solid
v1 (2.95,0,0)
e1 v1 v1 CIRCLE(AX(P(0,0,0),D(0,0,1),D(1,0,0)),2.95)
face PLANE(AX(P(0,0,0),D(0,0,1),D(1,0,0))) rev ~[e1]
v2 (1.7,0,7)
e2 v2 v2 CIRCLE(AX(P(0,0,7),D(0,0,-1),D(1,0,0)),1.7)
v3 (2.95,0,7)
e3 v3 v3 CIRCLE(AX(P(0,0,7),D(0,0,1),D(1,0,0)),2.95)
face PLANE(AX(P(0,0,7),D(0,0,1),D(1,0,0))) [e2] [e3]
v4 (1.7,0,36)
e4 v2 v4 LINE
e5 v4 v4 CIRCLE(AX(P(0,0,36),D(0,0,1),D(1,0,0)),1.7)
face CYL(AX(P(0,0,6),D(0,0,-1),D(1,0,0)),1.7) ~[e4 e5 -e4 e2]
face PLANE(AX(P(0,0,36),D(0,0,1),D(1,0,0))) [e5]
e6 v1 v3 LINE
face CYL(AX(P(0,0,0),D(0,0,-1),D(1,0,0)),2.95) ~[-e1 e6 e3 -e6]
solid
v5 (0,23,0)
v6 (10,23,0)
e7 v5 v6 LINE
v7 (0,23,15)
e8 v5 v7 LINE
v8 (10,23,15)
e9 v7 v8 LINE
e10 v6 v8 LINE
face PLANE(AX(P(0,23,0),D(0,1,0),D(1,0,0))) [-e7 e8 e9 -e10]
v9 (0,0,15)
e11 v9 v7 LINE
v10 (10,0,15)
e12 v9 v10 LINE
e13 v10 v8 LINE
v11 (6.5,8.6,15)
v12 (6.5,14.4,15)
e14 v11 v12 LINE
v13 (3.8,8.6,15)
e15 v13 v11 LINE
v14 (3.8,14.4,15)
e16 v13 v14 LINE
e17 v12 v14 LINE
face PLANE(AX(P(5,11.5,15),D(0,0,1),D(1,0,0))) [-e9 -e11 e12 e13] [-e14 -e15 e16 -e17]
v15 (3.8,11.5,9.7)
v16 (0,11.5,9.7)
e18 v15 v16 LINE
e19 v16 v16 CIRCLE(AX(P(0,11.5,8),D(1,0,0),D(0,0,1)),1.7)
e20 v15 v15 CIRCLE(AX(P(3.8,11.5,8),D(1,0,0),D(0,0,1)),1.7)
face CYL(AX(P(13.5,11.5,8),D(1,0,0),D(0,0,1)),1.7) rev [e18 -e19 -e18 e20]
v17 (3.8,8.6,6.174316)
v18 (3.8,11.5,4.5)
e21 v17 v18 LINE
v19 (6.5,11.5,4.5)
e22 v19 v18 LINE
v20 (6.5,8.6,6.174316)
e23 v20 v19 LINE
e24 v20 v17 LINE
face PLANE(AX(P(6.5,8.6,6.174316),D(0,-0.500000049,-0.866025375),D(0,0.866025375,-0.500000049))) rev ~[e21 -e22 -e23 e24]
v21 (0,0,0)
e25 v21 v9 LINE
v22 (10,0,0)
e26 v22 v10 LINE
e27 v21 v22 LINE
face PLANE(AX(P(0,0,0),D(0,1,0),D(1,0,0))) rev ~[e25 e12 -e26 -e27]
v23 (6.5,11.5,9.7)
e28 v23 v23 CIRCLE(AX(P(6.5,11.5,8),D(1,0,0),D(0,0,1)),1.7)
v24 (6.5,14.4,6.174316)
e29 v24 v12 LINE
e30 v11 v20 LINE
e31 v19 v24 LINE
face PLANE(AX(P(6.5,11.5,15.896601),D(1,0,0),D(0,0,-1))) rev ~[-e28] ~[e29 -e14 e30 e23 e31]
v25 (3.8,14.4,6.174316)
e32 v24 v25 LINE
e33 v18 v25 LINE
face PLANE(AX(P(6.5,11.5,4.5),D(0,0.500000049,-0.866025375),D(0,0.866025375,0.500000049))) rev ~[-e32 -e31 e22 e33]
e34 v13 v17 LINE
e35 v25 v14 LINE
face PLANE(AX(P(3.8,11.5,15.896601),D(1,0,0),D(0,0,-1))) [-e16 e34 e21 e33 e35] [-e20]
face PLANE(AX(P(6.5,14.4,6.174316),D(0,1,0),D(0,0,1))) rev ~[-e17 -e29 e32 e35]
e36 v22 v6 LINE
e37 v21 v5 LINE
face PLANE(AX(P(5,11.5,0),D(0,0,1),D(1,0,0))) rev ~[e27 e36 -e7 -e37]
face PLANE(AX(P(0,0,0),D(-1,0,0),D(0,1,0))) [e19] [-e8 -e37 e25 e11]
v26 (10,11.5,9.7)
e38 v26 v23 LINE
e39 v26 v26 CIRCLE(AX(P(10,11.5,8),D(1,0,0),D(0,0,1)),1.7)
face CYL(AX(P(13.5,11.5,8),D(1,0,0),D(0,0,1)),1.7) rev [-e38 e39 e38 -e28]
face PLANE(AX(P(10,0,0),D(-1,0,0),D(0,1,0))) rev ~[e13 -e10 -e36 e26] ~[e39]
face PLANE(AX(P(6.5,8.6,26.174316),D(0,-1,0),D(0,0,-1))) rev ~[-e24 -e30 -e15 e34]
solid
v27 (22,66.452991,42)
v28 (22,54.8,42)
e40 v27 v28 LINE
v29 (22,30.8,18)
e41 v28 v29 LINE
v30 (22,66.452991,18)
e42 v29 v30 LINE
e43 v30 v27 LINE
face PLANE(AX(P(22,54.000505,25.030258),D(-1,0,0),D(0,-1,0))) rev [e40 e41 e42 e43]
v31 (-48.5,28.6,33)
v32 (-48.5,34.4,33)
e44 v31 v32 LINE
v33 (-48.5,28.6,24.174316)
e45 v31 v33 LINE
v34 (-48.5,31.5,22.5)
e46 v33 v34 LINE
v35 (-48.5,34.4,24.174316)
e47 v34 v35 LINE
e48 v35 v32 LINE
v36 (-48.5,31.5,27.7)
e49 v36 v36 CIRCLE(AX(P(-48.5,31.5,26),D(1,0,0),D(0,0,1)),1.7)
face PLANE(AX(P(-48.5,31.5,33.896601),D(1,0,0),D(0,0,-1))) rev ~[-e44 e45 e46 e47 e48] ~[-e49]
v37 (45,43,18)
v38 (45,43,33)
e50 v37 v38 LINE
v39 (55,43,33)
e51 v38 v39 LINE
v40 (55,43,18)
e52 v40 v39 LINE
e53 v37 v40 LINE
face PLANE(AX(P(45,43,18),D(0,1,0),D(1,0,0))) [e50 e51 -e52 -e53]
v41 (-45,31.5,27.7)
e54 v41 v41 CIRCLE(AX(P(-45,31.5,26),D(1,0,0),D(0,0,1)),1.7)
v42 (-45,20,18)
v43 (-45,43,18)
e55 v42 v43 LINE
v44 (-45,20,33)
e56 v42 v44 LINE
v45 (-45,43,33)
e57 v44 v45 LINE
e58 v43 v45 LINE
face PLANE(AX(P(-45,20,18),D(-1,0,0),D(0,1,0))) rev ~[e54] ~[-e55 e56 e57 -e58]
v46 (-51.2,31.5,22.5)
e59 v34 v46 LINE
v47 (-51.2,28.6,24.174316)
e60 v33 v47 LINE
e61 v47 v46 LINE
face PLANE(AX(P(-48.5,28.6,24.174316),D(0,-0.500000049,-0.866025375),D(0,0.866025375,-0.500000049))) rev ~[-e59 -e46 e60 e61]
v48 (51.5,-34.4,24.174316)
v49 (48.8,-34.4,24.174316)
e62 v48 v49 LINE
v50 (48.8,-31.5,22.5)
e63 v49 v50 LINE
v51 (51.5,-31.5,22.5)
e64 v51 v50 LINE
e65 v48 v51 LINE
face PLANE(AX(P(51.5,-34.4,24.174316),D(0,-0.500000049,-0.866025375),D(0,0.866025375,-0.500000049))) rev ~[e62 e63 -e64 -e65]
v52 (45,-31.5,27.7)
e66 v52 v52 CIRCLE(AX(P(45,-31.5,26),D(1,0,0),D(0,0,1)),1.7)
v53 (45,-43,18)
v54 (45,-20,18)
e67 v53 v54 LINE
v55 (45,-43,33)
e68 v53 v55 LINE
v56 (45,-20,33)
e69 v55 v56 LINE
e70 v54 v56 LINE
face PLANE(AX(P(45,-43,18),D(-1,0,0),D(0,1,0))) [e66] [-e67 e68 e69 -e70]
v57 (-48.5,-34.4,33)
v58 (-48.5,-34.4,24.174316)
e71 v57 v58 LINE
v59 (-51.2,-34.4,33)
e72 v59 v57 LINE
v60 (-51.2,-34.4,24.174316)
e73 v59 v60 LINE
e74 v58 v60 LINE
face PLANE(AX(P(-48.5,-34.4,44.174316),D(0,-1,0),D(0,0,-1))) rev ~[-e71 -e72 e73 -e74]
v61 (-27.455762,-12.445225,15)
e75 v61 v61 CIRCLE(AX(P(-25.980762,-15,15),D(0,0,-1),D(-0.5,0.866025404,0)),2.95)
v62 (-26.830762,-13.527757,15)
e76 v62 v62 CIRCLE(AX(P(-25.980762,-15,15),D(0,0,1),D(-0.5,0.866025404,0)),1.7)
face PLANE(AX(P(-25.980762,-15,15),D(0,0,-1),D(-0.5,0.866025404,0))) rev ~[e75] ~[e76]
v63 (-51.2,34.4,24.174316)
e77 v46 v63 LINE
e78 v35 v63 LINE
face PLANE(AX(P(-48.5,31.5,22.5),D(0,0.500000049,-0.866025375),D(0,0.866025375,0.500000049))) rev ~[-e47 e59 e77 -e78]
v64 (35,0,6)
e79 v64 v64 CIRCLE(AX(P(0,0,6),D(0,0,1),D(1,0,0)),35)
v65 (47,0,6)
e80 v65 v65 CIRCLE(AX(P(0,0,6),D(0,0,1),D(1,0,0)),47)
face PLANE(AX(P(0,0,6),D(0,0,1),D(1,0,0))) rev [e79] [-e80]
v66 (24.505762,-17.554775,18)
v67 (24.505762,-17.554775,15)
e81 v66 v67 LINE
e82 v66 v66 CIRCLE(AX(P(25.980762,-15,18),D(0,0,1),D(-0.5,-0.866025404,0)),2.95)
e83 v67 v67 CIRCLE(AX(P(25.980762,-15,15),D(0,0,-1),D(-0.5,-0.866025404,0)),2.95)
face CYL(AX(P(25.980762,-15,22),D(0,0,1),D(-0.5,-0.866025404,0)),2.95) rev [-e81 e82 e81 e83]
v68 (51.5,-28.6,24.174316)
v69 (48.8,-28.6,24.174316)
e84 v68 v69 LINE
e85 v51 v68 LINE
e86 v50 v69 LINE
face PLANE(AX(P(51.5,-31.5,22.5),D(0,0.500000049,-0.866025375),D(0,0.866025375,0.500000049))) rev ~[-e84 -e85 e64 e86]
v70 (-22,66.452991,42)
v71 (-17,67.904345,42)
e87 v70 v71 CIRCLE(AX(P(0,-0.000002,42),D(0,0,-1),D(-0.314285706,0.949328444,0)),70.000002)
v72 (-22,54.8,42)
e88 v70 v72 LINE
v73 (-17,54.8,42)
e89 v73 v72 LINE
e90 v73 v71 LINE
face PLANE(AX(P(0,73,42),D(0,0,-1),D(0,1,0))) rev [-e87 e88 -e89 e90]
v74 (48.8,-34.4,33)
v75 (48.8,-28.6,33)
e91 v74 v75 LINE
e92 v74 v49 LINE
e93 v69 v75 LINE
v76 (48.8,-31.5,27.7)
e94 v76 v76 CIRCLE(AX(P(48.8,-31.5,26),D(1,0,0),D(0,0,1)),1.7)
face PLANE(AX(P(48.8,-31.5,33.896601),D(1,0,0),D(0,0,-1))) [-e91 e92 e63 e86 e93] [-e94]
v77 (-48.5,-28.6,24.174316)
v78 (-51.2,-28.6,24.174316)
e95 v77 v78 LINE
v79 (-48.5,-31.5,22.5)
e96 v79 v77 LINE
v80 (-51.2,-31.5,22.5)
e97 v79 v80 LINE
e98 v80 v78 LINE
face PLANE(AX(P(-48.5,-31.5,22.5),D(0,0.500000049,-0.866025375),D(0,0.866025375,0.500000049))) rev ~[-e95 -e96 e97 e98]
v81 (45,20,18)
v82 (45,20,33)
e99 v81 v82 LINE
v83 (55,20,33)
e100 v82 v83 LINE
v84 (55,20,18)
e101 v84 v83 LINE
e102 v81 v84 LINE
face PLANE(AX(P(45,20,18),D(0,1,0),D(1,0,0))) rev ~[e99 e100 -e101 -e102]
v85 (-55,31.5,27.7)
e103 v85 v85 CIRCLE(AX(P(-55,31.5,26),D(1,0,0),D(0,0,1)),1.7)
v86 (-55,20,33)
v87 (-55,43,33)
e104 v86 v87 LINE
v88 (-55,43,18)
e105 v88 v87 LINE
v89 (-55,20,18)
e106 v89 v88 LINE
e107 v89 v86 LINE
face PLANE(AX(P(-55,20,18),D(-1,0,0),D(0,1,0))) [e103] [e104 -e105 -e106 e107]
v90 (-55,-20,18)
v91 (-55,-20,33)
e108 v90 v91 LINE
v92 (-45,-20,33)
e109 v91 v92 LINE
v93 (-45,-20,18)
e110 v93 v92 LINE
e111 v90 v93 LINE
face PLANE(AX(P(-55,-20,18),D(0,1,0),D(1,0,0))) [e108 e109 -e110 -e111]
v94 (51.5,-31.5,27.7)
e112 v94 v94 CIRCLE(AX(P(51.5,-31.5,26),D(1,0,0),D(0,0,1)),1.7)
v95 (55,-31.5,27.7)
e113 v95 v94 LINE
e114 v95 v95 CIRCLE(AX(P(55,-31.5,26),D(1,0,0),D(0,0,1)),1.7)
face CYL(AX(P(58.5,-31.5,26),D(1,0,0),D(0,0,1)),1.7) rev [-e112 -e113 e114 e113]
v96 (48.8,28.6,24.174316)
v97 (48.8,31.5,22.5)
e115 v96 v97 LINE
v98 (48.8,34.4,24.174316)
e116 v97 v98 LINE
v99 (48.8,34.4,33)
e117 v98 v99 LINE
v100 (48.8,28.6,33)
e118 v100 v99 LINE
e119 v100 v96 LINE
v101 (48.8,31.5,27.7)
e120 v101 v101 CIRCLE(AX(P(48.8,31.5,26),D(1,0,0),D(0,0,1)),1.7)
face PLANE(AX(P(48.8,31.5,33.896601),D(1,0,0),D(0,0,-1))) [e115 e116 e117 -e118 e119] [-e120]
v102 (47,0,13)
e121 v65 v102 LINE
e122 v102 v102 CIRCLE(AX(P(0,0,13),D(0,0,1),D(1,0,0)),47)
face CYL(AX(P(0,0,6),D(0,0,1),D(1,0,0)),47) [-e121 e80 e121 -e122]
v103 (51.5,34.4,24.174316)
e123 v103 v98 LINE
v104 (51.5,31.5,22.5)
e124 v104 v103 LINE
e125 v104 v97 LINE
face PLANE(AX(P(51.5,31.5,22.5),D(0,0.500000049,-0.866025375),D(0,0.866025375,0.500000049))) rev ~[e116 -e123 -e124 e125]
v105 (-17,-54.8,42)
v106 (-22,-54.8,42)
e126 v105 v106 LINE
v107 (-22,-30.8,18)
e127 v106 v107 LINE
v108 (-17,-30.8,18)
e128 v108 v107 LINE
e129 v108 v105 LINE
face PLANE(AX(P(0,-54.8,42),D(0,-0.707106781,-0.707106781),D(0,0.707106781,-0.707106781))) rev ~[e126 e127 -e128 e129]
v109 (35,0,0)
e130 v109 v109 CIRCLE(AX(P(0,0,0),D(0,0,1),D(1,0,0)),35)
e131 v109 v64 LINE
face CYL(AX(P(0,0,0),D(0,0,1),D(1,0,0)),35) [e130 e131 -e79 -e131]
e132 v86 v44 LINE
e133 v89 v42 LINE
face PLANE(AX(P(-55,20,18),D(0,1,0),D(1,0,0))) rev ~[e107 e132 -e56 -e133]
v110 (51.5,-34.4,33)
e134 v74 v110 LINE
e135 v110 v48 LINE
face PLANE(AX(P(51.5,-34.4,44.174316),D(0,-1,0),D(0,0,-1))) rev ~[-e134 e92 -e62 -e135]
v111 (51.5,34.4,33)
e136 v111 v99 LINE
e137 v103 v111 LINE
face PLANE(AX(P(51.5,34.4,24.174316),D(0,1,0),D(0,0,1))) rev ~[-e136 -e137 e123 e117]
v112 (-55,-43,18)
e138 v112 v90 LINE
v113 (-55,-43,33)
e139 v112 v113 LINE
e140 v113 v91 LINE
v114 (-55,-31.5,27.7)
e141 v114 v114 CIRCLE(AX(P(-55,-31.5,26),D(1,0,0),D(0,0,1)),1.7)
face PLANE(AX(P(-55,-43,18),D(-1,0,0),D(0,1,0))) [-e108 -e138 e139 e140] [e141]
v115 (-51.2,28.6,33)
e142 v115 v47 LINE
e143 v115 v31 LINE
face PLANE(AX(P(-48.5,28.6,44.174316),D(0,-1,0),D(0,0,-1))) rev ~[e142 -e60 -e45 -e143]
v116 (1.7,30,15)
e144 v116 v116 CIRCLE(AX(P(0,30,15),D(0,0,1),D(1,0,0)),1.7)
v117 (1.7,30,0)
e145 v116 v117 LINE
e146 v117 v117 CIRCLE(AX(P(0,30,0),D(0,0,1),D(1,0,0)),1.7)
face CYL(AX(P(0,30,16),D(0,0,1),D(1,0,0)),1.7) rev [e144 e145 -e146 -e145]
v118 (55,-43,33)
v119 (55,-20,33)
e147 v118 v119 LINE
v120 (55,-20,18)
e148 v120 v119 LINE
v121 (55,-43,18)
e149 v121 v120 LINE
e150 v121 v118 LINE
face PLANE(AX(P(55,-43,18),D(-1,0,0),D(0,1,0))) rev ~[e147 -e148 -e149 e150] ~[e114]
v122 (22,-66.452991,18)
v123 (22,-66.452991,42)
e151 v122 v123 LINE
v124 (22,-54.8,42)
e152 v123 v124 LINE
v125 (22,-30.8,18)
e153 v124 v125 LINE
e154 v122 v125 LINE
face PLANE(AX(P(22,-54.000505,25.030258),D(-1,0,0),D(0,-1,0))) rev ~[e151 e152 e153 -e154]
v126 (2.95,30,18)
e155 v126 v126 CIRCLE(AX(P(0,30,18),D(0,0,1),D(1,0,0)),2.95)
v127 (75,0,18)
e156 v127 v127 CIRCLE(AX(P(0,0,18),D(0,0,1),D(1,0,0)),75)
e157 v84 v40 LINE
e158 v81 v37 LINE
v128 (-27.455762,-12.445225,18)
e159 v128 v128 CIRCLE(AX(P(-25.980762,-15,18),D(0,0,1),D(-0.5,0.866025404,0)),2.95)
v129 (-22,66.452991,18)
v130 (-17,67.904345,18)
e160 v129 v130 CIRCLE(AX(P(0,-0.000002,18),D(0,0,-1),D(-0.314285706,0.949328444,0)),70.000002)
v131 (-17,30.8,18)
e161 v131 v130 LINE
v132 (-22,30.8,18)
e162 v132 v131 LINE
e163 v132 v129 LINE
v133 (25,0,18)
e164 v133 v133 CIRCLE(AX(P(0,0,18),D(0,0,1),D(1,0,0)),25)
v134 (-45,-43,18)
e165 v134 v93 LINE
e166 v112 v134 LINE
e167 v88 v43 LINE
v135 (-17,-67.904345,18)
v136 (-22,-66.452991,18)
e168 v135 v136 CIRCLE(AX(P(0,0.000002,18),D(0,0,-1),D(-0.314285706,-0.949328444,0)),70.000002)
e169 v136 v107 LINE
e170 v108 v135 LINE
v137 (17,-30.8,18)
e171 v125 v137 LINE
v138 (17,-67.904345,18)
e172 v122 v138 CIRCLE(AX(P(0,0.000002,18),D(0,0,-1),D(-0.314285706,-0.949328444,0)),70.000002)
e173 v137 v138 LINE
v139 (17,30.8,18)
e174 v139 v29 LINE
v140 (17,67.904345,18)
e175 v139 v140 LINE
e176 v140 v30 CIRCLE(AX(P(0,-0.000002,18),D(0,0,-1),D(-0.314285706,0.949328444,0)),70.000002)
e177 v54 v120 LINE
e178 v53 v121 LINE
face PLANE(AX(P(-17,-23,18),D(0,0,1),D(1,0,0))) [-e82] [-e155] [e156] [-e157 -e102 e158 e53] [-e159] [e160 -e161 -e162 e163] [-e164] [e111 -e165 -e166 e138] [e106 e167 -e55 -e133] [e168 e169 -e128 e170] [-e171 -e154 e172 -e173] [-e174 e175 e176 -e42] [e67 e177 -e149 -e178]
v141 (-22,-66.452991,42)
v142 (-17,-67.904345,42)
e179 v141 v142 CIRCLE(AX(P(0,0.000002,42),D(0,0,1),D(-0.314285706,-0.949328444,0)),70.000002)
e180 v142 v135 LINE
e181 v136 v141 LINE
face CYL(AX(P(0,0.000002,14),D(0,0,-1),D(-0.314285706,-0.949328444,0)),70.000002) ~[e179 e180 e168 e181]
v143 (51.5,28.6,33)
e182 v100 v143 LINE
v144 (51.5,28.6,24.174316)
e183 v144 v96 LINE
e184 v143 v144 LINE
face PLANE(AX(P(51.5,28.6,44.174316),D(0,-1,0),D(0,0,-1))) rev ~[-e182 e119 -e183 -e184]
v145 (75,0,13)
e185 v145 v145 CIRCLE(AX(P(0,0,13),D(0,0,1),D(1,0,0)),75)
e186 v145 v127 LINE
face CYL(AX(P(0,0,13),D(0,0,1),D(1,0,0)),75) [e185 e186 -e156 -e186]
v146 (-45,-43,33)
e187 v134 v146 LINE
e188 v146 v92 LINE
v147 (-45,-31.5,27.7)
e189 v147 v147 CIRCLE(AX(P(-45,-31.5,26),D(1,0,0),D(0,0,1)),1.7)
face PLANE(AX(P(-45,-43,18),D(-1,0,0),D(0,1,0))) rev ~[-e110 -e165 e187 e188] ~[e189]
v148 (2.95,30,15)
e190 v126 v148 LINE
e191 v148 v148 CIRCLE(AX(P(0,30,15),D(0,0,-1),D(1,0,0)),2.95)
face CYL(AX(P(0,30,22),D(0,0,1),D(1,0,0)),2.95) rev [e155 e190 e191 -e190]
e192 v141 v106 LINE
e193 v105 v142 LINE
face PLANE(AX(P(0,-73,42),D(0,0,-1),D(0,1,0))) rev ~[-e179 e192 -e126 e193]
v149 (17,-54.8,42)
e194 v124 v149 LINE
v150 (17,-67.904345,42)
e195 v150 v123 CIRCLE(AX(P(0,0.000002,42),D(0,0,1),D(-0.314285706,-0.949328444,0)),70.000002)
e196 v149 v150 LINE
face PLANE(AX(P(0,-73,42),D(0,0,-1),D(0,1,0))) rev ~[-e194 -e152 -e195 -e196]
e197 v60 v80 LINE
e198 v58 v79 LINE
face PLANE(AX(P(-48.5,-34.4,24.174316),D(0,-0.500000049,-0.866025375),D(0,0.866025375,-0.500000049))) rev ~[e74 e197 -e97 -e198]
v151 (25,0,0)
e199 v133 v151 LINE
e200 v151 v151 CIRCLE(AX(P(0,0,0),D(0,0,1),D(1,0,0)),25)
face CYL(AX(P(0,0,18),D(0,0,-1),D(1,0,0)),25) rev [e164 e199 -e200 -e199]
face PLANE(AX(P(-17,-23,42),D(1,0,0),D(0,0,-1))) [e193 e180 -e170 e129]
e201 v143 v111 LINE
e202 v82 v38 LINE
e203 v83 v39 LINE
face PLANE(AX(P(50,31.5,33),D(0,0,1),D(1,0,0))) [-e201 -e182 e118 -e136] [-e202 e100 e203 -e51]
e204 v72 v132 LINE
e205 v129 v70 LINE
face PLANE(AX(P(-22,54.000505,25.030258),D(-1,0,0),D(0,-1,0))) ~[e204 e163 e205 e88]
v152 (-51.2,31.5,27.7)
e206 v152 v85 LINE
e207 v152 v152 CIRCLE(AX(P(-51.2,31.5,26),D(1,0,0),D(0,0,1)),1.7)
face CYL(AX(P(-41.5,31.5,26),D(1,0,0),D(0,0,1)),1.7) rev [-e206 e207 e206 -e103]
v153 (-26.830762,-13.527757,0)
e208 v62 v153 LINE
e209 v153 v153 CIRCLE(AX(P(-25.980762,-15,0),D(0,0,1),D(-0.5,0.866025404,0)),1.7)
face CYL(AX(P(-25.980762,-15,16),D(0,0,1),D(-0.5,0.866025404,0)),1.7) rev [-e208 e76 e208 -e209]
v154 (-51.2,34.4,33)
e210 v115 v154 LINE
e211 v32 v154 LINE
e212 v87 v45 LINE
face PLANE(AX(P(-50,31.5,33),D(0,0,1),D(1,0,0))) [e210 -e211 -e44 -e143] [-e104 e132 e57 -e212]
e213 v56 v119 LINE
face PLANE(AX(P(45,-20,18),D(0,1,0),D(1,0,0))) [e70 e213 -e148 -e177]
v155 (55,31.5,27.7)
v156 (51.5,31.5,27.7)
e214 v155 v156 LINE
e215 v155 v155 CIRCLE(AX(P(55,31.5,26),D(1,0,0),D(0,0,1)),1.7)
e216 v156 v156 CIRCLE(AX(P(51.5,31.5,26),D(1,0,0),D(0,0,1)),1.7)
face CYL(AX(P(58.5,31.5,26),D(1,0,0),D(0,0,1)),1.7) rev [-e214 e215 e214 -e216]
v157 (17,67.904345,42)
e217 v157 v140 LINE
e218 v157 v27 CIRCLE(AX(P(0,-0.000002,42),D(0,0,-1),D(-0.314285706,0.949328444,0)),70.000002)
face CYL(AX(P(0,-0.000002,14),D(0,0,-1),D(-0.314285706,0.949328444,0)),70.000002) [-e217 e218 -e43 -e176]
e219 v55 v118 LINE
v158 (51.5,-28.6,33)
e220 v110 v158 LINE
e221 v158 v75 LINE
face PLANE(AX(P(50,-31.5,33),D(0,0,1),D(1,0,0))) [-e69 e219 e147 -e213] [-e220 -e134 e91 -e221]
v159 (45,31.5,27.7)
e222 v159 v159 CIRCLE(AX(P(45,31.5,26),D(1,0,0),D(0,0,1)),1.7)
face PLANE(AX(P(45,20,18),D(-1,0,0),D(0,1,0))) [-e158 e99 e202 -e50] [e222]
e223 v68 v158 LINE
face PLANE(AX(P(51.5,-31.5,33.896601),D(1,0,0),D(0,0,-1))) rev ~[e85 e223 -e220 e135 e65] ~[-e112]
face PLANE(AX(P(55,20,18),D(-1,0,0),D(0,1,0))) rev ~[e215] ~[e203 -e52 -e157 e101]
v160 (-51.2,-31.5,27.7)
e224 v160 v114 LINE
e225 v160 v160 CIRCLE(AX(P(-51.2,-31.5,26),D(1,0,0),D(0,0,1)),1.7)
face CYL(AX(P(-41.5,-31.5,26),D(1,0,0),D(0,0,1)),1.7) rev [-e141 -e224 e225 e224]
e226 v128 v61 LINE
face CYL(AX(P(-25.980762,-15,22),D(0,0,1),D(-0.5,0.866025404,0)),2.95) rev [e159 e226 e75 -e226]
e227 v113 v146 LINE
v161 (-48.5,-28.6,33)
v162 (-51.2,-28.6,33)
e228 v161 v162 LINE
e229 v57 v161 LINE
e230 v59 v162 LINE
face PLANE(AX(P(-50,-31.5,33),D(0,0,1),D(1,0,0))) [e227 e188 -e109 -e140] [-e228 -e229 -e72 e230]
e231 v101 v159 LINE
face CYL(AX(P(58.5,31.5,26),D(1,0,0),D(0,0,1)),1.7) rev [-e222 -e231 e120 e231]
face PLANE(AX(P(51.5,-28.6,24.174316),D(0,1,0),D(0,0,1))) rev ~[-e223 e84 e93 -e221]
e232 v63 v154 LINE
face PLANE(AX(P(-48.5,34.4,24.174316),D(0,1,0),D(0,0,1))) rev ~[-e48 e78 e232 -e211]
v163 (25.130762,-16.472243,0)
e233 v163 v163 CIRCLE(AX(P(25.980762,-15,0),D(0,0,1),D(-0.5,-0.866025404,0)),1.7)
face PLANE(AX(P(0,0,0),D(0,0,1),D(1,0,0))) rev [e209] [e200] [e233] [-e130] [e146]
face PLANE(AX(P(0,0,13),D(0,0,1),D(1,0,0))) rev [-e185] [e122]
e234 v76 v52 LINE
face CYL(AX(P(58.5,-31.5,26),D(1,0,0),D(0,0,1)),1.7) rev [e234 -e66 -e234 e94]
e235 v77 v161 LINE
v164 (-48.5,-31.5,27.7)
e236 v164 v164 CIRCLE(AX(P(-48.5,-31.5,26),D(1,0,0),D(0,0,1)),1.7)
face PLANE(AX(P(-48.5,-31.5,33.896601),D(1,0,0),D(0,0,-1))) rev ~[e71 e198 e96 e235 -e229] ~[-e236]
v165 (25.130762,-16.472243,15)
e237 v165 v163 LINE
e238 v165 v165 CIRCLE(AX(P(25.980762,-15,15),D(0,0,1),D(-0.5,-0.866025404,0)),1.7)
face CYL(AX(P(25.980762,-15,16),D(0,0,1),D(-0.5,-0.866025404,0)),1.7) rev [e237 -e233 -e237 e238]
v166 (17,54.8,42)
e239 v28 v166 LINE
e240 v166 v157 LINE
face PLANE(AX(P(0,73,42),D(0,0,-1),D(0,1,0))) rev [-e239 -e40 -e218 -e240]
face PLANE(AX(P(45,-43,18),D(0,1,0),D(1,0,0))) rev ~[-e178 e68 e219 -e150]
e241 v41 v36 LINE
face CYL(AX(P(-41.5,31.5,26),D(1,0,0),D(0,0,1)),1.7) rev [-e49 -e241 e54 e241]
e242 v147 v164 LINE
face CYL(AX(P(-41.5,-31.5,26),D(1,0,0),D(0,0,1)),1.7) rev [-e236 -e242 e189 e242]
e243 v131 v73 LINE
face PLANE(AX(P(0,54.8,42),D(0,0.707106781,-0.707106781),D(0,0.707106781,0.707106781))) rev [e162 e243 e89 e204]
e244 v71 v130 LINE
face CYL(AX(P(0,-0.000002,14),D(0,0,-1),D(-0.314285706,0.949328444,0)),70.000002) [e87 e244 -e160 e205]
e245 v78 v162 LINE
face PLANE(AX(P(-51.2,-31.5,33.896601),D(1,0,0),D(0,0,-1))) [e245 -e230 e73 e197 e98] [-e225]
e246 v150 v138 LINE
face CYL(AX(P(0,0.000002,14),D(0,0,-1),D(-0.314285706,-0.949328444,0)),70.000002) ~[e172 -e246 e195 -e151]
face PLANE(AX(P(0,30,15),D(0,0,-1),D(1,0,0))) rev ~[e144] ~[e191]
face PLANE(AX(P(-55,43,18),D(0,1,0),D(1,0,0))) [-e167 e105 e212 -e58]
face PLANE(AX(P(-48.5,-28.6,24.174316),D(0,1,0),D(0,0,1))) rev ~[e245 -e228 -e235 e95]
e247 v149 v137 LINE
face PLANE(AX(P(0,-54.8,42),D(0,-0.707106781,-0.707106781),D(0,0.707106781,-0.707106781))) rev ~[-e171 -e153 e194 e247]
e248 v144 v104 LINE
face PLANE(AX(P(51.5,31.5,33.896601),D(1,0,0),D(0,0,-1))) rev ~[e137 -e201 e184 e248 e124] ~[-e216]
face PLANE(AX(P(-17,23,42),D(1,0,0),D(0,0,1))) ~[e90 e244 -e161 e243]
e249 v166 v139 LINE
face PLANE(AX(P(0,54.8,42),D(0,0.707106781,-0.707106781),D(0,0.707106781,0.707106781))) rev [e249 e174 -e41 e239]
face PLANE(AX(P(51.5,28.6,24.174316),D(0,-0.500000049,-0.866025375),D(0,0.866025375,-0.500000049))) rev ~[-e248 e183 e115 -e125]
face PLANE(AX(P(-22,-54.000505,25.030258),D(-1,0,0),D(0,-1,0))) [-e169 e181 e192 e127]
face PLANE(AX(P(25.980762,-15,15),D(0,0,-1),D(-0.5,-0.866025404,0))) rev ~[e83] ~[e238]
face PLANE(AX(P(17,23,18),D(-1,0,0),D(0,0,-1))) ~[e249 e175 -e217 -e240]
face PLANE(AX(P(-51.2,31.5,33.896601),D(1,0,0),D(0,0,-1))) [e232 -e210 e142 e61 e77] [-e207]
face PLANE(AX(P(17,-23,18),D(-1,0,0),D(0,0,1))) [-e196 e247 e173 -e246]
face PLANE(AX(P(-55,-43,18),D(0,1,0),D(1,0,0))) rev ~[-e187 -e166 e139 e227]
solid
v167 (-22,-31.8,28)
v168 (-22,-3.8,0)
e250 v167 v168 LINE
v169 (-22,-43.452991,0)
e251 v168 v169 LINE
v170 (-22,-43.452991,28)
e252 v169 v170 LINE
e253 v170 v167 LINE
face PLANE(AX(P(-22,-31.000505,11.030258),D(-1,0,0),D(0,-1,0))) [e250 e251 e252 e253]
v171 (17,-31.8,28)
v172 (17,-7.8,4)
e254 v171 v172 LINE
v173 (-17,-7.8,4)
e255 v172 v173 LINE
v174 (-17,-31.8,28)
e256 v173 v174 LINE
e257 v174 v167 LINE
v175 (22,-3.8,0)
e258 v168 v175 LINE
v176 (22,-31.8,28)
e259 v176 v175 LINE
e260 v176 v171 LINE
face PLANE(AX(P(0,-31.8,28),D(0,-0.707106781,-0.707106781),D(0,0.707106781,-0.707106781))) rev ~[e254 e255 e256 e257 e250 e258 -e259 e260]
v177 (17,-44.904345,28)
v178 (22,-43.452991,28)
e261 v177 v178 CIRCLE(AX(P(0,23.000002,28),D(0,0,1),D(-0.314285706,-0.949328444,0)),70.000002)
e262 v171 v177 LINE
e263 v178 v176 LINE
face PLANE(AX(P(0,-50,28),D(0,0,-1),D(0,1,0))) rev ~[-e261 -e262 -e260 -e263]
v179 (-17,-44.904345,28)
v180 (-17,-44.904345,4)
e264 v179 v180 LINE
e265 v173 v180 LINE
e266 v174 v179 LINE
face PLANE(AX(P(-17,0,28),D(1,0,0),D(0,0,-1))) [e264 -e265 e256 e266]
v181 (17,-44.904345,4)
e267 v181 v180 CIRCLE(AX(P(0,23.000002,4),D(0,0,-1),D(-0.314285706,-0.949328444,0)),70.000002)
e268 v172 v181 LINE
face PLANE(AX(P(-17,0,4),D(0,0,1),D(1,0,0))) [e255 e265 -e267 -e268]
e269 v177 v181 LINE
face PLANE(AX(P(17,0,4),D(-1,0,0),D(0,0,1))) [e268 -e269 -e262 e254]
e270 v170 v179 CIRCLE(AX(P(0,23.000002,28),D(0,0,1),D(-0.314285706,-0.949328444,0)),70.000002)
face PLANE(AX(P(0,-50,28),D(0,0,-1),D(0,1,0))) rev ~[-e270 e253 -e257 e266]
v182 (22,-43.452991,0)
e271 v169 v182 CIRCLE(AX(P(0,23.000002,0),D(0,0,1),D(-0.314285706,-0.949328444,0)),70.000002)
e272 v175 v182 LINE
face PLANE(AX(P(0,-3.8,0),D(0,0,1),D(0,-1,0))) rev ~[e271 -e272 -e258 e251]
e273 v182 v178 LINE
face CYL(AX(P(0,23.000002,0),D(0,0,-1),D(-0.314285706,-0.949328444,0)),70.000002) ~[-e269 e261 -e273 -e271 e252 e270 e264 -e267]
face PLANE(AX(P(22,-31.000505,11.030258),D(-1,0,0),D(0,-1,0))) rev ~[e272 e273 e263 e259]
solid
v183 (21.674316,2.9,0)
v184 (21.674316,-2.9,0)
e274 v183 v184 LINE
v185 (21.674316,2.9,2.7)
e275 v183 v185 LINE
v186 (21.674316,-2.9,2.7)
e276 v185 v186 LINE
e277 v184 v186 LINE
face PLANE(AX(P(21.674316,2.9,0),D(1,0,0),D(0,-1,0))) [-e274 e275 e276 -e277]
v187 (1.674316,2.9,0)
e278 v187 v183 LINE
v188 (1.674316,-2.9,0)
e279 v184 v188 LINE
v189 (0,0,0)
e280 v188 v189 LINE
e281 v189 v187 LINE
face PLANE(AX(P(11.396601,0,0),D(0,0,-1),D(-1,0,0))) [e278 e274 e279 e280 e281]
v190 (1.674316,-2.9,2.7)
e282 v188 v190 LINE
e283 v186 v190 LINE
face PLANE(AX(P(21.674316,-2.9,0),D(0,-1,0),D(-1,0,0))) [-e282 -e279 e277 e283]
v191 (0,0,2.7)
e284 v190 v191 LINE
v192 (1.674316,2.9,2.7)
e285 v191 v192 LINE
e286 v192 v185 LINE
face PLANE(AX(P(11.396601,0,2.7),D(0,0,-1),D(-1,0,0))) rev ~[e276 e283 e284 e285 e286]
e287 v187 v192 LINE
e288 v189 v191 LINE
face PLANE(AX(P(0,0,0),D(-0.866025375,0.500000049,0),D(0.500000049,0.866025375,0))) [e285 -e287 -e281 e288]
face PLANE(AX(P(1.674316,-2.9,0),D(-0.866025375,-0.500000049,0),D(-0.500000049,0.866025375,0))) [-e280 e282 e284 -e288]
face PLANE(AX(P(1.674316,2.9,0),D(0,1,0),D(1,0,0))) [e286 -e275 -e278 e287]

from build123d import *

# Parameters (mm, degrees)
CYLINDER_R               = 2.95
CYLINDER_DEPTH           = 7
CYLINDER001_R            = 1.7
CYLINDER001_DEPTH        = 30
PAD002_DEPTH             = 2.7
CLONE029_PITCH_ANGLE     = -90
CLONE030_PITCH_ANGLE     = -90
BOX003_W                 = 10
BOX003_H                 = 23
BOX003_DEPTH             = 15
PAD006_DEPTH             = 28
PAD005_DEPTH             = 50
PAD007_DEPTH             = 22
CLONE032_PLACEMENT_ANGLE = 180
ARRAY005_COUNT           = 3
ARRAY004_X_COUNT         = 2
ARRAY004_X_PITCH         = 100
ARRAY004_Y_COUNT         = 2
ARRAY004_Y_PITCH         = 63


with BuildPart() as m3bolthead:
    # Cylinder → Cylinder (new body)
    with BuildSketch(Plane.XY):
        Circle(CYLINDER_R)
    extrude(amount=CYLINDER_DEPTH)


with BuildPart() as m3bolt:
    # Cylinder001 → Cylinder001 (new body)
    with BuildSketch(Plane.XY.offset(6)):
        Circle(CYLINDER001_R)
    extrude(amount=CYLINDER001_DEPTH)

    # Fusion: union M3BoltHead
    add(m3bolthead.part)


with BuildPart() as m3nuthousing:
    # Sketch003 → Pad002 (new body)
    with BuildSketch(Plane.XY):
        Polygon((0, 0), (1.674316, 2.9), (21.674316, 2.9), (21.674316, -2.9), (1.674316, -2.9), align=None)
    extrude(amount=PAD002_DEPTH)


with BuildPart() as clone_of_m3nuthousing006:
    # Clone029 base: copy of M3NutHousing
    add(m3nuthousing.part)


with BuildPart() as clone_of_m3nuthousing006_1:
    # Clone029 pitch: moved
    add(clone_of_m3nuthousing006.part.rotate(Axis((0, 0, 0), (0, 1, 0)), CLONE029_PITCH_ANGLE))


with BuildPart() as clone_of_m3nuthousing006_2:
    # Clone029 placement: moved
    add(clone_of_m3nuthousing006_1.part.moved(Location((6.5, 11.5, 4.5))))


with BuildPart() as fusion012:
    # Clone030 base: copy of M3Bolt
    add(m3bolt.part)


with BuildPart() as fusion012_1:
    # Clone030 pitch: moved
    add(fusion012.part.rotate(Axis((0, 0, 0), (0, 1, 0)), CLONE030_PITCH_ANGLE))


with BuildPart() as fusion012_2:
    # Clone030 placement: moved
    add(fusion012_1.part.moved(Location((19.5, 11.5, 8))))

    # Fusion012: union Clone of M3NutHousing006
    add(clone_of_m3nuthousing006_2.part)


with BuildPart() as art1topfixmaster:
    # Box003 → Box003 (new body)
    with BuildSketch(Plane.XY):
        with Locations((5, 11.5)):
            Rectangle(BOX003_W, BOX003_H)
    extrude(amount=BOX003_DEPTH)

    # Cut014: cut Fusion012
    add(fusion012_2.part, mode=Mode.SUBTRACT)


with BuildPart() as pad006:
    # Sketch017 → Pad006 (new body)
    with BuildSketch(Plane.XY):
        with BuildLine():
            Line((-22, 0), (22, 0))
            Line((22, 0), (22, -43.452991))
            ThreePointArc((-22, -43.452991), (0, -47), (22, -43.452991))
            Line((-22, -43.452991), (-22, 0))
        make_face()
    extrude(amount=PAD006_DEPTH)


with BuildPart() as common002:
    # Sketch016 → Pad005 (new body)
    with BuildSketch(Plane.XZ):
        Polygon((-22, 28), (-17, 28), (-17, 4), (17, 4), (17, 28), (22, 28), (22, 0), (-22, 0), align=None)
    extrude(amount=PAD005_DEPTH)

    # Common002: intersect Pad006
    add(pad006.part, mode=Mode.INTERSECT)


with BuildPart() as fansupport:
    # Sketch018 → Pad007 (new body, symmetric)
    with BuildSketch(Plane.YZ):
        Polygon((-50, 0), (-50, 28), (-31.8, 28), (-3.8, 0), align=None)
    extrude(amount=PAD007_DEPTH, both=True)

    # Common003: intersect Common002
    add(common002.part, mode=Mode.INTERSECT)


with BuildPart() as array005:
    # Clone032 base: copy of M3Bolt
    add(m3bolt.part)


with BuildPart() as array005_1:
    # Clone032 placement: moved
    add(array005.part.moved(Location((0, 30, 22))).rotate(Axis((0, 30, 22), (1, 0, 0)), CLONE032_PLACEMENT_ANGLE))

    # Array005: Array005 ×3 about axis
    array005_axis = Axis((0, 0, 0), (0, 0, 1))


with BuildPart() as array005_2:
    add(array005_1.part)
    for i in range(1, ARRAY005_COUNT):
        add(array005_1.part.rotate(array005_axis, i * 360 / ARRAY005_COUNT))


with BuildPart() as clone_of_fansupport:
    # Clone base: copy of FanSupport
    add(fansupport.part)


with BuildPart() as clone_of_fansupport_1:
    # Clone placement: moved
    add(clone_of_fansupport.part.moved(Location((0, -23, 14))))


with BuildPart() as part_mirroring:
    # Part__Mirroring: instance of Clone of FanSupport
    add(clone_of_fansupport_1.part.mirror(Plane(origin=(0, 0, 0), x_dir=(1, 0, 0), z_dir=(0, 1, 0))))


with BuildPart() as array004:
    # Clone031 base: copy of Art1TopFixMaster
    add(art1topfixmaster.part)


with BuildPart() as array004_1:
    # Clone031 placement: moved
    add(array004.part.moved(Location((45, 20, 18))))

    # Array004 X: Array004 ×2


with BuildPart() as array004_2:
    add(array004_1.part)
    with Locations(*[(-i * ARRAY004_X_PITCH, 0, 0) for i in range(1, ARRAY004_X_COUNT)]):
        add(array004_1.part)

    # Array004 Y: Array004 ×2


with BuildPart() as array004_3:
    add(array004_2.part)
    with Locations(*[(0, -i * ARRAY004_Y_PITCH, 0) for i in range(1, ARRAY004_Y_COUNT)]):
        add(array004_2.part)


with BuildPart() as art1top:
    # Sketch008 → Revolution001 (revolve)
    with BuildSketch(Plane.XZ):
        Polygon((25, 0), (35, 0), (35, 6), (47, 6), (47, 13), (75, 13), (75, 18), (25, 18), align=None)
    revolve(axis=Axis((0, 0, 0), (0, 0, 1)))

    # Fusion013: union Array004
    add(array004_3.part)

    # Fusion014: union Part__Mirroring, Clone of FanSupport
    add(part_mirroring.part)
    add(clone_of_fansupport_1.part)

    # Cut: cut Array005
    add(array005_2.part, mode=Mode.SUBTRACT)


solid = Compound([m3bolt.part, m3nuthousing.part, art1topfixmaster.part, fansupport.part, art1top.part])
